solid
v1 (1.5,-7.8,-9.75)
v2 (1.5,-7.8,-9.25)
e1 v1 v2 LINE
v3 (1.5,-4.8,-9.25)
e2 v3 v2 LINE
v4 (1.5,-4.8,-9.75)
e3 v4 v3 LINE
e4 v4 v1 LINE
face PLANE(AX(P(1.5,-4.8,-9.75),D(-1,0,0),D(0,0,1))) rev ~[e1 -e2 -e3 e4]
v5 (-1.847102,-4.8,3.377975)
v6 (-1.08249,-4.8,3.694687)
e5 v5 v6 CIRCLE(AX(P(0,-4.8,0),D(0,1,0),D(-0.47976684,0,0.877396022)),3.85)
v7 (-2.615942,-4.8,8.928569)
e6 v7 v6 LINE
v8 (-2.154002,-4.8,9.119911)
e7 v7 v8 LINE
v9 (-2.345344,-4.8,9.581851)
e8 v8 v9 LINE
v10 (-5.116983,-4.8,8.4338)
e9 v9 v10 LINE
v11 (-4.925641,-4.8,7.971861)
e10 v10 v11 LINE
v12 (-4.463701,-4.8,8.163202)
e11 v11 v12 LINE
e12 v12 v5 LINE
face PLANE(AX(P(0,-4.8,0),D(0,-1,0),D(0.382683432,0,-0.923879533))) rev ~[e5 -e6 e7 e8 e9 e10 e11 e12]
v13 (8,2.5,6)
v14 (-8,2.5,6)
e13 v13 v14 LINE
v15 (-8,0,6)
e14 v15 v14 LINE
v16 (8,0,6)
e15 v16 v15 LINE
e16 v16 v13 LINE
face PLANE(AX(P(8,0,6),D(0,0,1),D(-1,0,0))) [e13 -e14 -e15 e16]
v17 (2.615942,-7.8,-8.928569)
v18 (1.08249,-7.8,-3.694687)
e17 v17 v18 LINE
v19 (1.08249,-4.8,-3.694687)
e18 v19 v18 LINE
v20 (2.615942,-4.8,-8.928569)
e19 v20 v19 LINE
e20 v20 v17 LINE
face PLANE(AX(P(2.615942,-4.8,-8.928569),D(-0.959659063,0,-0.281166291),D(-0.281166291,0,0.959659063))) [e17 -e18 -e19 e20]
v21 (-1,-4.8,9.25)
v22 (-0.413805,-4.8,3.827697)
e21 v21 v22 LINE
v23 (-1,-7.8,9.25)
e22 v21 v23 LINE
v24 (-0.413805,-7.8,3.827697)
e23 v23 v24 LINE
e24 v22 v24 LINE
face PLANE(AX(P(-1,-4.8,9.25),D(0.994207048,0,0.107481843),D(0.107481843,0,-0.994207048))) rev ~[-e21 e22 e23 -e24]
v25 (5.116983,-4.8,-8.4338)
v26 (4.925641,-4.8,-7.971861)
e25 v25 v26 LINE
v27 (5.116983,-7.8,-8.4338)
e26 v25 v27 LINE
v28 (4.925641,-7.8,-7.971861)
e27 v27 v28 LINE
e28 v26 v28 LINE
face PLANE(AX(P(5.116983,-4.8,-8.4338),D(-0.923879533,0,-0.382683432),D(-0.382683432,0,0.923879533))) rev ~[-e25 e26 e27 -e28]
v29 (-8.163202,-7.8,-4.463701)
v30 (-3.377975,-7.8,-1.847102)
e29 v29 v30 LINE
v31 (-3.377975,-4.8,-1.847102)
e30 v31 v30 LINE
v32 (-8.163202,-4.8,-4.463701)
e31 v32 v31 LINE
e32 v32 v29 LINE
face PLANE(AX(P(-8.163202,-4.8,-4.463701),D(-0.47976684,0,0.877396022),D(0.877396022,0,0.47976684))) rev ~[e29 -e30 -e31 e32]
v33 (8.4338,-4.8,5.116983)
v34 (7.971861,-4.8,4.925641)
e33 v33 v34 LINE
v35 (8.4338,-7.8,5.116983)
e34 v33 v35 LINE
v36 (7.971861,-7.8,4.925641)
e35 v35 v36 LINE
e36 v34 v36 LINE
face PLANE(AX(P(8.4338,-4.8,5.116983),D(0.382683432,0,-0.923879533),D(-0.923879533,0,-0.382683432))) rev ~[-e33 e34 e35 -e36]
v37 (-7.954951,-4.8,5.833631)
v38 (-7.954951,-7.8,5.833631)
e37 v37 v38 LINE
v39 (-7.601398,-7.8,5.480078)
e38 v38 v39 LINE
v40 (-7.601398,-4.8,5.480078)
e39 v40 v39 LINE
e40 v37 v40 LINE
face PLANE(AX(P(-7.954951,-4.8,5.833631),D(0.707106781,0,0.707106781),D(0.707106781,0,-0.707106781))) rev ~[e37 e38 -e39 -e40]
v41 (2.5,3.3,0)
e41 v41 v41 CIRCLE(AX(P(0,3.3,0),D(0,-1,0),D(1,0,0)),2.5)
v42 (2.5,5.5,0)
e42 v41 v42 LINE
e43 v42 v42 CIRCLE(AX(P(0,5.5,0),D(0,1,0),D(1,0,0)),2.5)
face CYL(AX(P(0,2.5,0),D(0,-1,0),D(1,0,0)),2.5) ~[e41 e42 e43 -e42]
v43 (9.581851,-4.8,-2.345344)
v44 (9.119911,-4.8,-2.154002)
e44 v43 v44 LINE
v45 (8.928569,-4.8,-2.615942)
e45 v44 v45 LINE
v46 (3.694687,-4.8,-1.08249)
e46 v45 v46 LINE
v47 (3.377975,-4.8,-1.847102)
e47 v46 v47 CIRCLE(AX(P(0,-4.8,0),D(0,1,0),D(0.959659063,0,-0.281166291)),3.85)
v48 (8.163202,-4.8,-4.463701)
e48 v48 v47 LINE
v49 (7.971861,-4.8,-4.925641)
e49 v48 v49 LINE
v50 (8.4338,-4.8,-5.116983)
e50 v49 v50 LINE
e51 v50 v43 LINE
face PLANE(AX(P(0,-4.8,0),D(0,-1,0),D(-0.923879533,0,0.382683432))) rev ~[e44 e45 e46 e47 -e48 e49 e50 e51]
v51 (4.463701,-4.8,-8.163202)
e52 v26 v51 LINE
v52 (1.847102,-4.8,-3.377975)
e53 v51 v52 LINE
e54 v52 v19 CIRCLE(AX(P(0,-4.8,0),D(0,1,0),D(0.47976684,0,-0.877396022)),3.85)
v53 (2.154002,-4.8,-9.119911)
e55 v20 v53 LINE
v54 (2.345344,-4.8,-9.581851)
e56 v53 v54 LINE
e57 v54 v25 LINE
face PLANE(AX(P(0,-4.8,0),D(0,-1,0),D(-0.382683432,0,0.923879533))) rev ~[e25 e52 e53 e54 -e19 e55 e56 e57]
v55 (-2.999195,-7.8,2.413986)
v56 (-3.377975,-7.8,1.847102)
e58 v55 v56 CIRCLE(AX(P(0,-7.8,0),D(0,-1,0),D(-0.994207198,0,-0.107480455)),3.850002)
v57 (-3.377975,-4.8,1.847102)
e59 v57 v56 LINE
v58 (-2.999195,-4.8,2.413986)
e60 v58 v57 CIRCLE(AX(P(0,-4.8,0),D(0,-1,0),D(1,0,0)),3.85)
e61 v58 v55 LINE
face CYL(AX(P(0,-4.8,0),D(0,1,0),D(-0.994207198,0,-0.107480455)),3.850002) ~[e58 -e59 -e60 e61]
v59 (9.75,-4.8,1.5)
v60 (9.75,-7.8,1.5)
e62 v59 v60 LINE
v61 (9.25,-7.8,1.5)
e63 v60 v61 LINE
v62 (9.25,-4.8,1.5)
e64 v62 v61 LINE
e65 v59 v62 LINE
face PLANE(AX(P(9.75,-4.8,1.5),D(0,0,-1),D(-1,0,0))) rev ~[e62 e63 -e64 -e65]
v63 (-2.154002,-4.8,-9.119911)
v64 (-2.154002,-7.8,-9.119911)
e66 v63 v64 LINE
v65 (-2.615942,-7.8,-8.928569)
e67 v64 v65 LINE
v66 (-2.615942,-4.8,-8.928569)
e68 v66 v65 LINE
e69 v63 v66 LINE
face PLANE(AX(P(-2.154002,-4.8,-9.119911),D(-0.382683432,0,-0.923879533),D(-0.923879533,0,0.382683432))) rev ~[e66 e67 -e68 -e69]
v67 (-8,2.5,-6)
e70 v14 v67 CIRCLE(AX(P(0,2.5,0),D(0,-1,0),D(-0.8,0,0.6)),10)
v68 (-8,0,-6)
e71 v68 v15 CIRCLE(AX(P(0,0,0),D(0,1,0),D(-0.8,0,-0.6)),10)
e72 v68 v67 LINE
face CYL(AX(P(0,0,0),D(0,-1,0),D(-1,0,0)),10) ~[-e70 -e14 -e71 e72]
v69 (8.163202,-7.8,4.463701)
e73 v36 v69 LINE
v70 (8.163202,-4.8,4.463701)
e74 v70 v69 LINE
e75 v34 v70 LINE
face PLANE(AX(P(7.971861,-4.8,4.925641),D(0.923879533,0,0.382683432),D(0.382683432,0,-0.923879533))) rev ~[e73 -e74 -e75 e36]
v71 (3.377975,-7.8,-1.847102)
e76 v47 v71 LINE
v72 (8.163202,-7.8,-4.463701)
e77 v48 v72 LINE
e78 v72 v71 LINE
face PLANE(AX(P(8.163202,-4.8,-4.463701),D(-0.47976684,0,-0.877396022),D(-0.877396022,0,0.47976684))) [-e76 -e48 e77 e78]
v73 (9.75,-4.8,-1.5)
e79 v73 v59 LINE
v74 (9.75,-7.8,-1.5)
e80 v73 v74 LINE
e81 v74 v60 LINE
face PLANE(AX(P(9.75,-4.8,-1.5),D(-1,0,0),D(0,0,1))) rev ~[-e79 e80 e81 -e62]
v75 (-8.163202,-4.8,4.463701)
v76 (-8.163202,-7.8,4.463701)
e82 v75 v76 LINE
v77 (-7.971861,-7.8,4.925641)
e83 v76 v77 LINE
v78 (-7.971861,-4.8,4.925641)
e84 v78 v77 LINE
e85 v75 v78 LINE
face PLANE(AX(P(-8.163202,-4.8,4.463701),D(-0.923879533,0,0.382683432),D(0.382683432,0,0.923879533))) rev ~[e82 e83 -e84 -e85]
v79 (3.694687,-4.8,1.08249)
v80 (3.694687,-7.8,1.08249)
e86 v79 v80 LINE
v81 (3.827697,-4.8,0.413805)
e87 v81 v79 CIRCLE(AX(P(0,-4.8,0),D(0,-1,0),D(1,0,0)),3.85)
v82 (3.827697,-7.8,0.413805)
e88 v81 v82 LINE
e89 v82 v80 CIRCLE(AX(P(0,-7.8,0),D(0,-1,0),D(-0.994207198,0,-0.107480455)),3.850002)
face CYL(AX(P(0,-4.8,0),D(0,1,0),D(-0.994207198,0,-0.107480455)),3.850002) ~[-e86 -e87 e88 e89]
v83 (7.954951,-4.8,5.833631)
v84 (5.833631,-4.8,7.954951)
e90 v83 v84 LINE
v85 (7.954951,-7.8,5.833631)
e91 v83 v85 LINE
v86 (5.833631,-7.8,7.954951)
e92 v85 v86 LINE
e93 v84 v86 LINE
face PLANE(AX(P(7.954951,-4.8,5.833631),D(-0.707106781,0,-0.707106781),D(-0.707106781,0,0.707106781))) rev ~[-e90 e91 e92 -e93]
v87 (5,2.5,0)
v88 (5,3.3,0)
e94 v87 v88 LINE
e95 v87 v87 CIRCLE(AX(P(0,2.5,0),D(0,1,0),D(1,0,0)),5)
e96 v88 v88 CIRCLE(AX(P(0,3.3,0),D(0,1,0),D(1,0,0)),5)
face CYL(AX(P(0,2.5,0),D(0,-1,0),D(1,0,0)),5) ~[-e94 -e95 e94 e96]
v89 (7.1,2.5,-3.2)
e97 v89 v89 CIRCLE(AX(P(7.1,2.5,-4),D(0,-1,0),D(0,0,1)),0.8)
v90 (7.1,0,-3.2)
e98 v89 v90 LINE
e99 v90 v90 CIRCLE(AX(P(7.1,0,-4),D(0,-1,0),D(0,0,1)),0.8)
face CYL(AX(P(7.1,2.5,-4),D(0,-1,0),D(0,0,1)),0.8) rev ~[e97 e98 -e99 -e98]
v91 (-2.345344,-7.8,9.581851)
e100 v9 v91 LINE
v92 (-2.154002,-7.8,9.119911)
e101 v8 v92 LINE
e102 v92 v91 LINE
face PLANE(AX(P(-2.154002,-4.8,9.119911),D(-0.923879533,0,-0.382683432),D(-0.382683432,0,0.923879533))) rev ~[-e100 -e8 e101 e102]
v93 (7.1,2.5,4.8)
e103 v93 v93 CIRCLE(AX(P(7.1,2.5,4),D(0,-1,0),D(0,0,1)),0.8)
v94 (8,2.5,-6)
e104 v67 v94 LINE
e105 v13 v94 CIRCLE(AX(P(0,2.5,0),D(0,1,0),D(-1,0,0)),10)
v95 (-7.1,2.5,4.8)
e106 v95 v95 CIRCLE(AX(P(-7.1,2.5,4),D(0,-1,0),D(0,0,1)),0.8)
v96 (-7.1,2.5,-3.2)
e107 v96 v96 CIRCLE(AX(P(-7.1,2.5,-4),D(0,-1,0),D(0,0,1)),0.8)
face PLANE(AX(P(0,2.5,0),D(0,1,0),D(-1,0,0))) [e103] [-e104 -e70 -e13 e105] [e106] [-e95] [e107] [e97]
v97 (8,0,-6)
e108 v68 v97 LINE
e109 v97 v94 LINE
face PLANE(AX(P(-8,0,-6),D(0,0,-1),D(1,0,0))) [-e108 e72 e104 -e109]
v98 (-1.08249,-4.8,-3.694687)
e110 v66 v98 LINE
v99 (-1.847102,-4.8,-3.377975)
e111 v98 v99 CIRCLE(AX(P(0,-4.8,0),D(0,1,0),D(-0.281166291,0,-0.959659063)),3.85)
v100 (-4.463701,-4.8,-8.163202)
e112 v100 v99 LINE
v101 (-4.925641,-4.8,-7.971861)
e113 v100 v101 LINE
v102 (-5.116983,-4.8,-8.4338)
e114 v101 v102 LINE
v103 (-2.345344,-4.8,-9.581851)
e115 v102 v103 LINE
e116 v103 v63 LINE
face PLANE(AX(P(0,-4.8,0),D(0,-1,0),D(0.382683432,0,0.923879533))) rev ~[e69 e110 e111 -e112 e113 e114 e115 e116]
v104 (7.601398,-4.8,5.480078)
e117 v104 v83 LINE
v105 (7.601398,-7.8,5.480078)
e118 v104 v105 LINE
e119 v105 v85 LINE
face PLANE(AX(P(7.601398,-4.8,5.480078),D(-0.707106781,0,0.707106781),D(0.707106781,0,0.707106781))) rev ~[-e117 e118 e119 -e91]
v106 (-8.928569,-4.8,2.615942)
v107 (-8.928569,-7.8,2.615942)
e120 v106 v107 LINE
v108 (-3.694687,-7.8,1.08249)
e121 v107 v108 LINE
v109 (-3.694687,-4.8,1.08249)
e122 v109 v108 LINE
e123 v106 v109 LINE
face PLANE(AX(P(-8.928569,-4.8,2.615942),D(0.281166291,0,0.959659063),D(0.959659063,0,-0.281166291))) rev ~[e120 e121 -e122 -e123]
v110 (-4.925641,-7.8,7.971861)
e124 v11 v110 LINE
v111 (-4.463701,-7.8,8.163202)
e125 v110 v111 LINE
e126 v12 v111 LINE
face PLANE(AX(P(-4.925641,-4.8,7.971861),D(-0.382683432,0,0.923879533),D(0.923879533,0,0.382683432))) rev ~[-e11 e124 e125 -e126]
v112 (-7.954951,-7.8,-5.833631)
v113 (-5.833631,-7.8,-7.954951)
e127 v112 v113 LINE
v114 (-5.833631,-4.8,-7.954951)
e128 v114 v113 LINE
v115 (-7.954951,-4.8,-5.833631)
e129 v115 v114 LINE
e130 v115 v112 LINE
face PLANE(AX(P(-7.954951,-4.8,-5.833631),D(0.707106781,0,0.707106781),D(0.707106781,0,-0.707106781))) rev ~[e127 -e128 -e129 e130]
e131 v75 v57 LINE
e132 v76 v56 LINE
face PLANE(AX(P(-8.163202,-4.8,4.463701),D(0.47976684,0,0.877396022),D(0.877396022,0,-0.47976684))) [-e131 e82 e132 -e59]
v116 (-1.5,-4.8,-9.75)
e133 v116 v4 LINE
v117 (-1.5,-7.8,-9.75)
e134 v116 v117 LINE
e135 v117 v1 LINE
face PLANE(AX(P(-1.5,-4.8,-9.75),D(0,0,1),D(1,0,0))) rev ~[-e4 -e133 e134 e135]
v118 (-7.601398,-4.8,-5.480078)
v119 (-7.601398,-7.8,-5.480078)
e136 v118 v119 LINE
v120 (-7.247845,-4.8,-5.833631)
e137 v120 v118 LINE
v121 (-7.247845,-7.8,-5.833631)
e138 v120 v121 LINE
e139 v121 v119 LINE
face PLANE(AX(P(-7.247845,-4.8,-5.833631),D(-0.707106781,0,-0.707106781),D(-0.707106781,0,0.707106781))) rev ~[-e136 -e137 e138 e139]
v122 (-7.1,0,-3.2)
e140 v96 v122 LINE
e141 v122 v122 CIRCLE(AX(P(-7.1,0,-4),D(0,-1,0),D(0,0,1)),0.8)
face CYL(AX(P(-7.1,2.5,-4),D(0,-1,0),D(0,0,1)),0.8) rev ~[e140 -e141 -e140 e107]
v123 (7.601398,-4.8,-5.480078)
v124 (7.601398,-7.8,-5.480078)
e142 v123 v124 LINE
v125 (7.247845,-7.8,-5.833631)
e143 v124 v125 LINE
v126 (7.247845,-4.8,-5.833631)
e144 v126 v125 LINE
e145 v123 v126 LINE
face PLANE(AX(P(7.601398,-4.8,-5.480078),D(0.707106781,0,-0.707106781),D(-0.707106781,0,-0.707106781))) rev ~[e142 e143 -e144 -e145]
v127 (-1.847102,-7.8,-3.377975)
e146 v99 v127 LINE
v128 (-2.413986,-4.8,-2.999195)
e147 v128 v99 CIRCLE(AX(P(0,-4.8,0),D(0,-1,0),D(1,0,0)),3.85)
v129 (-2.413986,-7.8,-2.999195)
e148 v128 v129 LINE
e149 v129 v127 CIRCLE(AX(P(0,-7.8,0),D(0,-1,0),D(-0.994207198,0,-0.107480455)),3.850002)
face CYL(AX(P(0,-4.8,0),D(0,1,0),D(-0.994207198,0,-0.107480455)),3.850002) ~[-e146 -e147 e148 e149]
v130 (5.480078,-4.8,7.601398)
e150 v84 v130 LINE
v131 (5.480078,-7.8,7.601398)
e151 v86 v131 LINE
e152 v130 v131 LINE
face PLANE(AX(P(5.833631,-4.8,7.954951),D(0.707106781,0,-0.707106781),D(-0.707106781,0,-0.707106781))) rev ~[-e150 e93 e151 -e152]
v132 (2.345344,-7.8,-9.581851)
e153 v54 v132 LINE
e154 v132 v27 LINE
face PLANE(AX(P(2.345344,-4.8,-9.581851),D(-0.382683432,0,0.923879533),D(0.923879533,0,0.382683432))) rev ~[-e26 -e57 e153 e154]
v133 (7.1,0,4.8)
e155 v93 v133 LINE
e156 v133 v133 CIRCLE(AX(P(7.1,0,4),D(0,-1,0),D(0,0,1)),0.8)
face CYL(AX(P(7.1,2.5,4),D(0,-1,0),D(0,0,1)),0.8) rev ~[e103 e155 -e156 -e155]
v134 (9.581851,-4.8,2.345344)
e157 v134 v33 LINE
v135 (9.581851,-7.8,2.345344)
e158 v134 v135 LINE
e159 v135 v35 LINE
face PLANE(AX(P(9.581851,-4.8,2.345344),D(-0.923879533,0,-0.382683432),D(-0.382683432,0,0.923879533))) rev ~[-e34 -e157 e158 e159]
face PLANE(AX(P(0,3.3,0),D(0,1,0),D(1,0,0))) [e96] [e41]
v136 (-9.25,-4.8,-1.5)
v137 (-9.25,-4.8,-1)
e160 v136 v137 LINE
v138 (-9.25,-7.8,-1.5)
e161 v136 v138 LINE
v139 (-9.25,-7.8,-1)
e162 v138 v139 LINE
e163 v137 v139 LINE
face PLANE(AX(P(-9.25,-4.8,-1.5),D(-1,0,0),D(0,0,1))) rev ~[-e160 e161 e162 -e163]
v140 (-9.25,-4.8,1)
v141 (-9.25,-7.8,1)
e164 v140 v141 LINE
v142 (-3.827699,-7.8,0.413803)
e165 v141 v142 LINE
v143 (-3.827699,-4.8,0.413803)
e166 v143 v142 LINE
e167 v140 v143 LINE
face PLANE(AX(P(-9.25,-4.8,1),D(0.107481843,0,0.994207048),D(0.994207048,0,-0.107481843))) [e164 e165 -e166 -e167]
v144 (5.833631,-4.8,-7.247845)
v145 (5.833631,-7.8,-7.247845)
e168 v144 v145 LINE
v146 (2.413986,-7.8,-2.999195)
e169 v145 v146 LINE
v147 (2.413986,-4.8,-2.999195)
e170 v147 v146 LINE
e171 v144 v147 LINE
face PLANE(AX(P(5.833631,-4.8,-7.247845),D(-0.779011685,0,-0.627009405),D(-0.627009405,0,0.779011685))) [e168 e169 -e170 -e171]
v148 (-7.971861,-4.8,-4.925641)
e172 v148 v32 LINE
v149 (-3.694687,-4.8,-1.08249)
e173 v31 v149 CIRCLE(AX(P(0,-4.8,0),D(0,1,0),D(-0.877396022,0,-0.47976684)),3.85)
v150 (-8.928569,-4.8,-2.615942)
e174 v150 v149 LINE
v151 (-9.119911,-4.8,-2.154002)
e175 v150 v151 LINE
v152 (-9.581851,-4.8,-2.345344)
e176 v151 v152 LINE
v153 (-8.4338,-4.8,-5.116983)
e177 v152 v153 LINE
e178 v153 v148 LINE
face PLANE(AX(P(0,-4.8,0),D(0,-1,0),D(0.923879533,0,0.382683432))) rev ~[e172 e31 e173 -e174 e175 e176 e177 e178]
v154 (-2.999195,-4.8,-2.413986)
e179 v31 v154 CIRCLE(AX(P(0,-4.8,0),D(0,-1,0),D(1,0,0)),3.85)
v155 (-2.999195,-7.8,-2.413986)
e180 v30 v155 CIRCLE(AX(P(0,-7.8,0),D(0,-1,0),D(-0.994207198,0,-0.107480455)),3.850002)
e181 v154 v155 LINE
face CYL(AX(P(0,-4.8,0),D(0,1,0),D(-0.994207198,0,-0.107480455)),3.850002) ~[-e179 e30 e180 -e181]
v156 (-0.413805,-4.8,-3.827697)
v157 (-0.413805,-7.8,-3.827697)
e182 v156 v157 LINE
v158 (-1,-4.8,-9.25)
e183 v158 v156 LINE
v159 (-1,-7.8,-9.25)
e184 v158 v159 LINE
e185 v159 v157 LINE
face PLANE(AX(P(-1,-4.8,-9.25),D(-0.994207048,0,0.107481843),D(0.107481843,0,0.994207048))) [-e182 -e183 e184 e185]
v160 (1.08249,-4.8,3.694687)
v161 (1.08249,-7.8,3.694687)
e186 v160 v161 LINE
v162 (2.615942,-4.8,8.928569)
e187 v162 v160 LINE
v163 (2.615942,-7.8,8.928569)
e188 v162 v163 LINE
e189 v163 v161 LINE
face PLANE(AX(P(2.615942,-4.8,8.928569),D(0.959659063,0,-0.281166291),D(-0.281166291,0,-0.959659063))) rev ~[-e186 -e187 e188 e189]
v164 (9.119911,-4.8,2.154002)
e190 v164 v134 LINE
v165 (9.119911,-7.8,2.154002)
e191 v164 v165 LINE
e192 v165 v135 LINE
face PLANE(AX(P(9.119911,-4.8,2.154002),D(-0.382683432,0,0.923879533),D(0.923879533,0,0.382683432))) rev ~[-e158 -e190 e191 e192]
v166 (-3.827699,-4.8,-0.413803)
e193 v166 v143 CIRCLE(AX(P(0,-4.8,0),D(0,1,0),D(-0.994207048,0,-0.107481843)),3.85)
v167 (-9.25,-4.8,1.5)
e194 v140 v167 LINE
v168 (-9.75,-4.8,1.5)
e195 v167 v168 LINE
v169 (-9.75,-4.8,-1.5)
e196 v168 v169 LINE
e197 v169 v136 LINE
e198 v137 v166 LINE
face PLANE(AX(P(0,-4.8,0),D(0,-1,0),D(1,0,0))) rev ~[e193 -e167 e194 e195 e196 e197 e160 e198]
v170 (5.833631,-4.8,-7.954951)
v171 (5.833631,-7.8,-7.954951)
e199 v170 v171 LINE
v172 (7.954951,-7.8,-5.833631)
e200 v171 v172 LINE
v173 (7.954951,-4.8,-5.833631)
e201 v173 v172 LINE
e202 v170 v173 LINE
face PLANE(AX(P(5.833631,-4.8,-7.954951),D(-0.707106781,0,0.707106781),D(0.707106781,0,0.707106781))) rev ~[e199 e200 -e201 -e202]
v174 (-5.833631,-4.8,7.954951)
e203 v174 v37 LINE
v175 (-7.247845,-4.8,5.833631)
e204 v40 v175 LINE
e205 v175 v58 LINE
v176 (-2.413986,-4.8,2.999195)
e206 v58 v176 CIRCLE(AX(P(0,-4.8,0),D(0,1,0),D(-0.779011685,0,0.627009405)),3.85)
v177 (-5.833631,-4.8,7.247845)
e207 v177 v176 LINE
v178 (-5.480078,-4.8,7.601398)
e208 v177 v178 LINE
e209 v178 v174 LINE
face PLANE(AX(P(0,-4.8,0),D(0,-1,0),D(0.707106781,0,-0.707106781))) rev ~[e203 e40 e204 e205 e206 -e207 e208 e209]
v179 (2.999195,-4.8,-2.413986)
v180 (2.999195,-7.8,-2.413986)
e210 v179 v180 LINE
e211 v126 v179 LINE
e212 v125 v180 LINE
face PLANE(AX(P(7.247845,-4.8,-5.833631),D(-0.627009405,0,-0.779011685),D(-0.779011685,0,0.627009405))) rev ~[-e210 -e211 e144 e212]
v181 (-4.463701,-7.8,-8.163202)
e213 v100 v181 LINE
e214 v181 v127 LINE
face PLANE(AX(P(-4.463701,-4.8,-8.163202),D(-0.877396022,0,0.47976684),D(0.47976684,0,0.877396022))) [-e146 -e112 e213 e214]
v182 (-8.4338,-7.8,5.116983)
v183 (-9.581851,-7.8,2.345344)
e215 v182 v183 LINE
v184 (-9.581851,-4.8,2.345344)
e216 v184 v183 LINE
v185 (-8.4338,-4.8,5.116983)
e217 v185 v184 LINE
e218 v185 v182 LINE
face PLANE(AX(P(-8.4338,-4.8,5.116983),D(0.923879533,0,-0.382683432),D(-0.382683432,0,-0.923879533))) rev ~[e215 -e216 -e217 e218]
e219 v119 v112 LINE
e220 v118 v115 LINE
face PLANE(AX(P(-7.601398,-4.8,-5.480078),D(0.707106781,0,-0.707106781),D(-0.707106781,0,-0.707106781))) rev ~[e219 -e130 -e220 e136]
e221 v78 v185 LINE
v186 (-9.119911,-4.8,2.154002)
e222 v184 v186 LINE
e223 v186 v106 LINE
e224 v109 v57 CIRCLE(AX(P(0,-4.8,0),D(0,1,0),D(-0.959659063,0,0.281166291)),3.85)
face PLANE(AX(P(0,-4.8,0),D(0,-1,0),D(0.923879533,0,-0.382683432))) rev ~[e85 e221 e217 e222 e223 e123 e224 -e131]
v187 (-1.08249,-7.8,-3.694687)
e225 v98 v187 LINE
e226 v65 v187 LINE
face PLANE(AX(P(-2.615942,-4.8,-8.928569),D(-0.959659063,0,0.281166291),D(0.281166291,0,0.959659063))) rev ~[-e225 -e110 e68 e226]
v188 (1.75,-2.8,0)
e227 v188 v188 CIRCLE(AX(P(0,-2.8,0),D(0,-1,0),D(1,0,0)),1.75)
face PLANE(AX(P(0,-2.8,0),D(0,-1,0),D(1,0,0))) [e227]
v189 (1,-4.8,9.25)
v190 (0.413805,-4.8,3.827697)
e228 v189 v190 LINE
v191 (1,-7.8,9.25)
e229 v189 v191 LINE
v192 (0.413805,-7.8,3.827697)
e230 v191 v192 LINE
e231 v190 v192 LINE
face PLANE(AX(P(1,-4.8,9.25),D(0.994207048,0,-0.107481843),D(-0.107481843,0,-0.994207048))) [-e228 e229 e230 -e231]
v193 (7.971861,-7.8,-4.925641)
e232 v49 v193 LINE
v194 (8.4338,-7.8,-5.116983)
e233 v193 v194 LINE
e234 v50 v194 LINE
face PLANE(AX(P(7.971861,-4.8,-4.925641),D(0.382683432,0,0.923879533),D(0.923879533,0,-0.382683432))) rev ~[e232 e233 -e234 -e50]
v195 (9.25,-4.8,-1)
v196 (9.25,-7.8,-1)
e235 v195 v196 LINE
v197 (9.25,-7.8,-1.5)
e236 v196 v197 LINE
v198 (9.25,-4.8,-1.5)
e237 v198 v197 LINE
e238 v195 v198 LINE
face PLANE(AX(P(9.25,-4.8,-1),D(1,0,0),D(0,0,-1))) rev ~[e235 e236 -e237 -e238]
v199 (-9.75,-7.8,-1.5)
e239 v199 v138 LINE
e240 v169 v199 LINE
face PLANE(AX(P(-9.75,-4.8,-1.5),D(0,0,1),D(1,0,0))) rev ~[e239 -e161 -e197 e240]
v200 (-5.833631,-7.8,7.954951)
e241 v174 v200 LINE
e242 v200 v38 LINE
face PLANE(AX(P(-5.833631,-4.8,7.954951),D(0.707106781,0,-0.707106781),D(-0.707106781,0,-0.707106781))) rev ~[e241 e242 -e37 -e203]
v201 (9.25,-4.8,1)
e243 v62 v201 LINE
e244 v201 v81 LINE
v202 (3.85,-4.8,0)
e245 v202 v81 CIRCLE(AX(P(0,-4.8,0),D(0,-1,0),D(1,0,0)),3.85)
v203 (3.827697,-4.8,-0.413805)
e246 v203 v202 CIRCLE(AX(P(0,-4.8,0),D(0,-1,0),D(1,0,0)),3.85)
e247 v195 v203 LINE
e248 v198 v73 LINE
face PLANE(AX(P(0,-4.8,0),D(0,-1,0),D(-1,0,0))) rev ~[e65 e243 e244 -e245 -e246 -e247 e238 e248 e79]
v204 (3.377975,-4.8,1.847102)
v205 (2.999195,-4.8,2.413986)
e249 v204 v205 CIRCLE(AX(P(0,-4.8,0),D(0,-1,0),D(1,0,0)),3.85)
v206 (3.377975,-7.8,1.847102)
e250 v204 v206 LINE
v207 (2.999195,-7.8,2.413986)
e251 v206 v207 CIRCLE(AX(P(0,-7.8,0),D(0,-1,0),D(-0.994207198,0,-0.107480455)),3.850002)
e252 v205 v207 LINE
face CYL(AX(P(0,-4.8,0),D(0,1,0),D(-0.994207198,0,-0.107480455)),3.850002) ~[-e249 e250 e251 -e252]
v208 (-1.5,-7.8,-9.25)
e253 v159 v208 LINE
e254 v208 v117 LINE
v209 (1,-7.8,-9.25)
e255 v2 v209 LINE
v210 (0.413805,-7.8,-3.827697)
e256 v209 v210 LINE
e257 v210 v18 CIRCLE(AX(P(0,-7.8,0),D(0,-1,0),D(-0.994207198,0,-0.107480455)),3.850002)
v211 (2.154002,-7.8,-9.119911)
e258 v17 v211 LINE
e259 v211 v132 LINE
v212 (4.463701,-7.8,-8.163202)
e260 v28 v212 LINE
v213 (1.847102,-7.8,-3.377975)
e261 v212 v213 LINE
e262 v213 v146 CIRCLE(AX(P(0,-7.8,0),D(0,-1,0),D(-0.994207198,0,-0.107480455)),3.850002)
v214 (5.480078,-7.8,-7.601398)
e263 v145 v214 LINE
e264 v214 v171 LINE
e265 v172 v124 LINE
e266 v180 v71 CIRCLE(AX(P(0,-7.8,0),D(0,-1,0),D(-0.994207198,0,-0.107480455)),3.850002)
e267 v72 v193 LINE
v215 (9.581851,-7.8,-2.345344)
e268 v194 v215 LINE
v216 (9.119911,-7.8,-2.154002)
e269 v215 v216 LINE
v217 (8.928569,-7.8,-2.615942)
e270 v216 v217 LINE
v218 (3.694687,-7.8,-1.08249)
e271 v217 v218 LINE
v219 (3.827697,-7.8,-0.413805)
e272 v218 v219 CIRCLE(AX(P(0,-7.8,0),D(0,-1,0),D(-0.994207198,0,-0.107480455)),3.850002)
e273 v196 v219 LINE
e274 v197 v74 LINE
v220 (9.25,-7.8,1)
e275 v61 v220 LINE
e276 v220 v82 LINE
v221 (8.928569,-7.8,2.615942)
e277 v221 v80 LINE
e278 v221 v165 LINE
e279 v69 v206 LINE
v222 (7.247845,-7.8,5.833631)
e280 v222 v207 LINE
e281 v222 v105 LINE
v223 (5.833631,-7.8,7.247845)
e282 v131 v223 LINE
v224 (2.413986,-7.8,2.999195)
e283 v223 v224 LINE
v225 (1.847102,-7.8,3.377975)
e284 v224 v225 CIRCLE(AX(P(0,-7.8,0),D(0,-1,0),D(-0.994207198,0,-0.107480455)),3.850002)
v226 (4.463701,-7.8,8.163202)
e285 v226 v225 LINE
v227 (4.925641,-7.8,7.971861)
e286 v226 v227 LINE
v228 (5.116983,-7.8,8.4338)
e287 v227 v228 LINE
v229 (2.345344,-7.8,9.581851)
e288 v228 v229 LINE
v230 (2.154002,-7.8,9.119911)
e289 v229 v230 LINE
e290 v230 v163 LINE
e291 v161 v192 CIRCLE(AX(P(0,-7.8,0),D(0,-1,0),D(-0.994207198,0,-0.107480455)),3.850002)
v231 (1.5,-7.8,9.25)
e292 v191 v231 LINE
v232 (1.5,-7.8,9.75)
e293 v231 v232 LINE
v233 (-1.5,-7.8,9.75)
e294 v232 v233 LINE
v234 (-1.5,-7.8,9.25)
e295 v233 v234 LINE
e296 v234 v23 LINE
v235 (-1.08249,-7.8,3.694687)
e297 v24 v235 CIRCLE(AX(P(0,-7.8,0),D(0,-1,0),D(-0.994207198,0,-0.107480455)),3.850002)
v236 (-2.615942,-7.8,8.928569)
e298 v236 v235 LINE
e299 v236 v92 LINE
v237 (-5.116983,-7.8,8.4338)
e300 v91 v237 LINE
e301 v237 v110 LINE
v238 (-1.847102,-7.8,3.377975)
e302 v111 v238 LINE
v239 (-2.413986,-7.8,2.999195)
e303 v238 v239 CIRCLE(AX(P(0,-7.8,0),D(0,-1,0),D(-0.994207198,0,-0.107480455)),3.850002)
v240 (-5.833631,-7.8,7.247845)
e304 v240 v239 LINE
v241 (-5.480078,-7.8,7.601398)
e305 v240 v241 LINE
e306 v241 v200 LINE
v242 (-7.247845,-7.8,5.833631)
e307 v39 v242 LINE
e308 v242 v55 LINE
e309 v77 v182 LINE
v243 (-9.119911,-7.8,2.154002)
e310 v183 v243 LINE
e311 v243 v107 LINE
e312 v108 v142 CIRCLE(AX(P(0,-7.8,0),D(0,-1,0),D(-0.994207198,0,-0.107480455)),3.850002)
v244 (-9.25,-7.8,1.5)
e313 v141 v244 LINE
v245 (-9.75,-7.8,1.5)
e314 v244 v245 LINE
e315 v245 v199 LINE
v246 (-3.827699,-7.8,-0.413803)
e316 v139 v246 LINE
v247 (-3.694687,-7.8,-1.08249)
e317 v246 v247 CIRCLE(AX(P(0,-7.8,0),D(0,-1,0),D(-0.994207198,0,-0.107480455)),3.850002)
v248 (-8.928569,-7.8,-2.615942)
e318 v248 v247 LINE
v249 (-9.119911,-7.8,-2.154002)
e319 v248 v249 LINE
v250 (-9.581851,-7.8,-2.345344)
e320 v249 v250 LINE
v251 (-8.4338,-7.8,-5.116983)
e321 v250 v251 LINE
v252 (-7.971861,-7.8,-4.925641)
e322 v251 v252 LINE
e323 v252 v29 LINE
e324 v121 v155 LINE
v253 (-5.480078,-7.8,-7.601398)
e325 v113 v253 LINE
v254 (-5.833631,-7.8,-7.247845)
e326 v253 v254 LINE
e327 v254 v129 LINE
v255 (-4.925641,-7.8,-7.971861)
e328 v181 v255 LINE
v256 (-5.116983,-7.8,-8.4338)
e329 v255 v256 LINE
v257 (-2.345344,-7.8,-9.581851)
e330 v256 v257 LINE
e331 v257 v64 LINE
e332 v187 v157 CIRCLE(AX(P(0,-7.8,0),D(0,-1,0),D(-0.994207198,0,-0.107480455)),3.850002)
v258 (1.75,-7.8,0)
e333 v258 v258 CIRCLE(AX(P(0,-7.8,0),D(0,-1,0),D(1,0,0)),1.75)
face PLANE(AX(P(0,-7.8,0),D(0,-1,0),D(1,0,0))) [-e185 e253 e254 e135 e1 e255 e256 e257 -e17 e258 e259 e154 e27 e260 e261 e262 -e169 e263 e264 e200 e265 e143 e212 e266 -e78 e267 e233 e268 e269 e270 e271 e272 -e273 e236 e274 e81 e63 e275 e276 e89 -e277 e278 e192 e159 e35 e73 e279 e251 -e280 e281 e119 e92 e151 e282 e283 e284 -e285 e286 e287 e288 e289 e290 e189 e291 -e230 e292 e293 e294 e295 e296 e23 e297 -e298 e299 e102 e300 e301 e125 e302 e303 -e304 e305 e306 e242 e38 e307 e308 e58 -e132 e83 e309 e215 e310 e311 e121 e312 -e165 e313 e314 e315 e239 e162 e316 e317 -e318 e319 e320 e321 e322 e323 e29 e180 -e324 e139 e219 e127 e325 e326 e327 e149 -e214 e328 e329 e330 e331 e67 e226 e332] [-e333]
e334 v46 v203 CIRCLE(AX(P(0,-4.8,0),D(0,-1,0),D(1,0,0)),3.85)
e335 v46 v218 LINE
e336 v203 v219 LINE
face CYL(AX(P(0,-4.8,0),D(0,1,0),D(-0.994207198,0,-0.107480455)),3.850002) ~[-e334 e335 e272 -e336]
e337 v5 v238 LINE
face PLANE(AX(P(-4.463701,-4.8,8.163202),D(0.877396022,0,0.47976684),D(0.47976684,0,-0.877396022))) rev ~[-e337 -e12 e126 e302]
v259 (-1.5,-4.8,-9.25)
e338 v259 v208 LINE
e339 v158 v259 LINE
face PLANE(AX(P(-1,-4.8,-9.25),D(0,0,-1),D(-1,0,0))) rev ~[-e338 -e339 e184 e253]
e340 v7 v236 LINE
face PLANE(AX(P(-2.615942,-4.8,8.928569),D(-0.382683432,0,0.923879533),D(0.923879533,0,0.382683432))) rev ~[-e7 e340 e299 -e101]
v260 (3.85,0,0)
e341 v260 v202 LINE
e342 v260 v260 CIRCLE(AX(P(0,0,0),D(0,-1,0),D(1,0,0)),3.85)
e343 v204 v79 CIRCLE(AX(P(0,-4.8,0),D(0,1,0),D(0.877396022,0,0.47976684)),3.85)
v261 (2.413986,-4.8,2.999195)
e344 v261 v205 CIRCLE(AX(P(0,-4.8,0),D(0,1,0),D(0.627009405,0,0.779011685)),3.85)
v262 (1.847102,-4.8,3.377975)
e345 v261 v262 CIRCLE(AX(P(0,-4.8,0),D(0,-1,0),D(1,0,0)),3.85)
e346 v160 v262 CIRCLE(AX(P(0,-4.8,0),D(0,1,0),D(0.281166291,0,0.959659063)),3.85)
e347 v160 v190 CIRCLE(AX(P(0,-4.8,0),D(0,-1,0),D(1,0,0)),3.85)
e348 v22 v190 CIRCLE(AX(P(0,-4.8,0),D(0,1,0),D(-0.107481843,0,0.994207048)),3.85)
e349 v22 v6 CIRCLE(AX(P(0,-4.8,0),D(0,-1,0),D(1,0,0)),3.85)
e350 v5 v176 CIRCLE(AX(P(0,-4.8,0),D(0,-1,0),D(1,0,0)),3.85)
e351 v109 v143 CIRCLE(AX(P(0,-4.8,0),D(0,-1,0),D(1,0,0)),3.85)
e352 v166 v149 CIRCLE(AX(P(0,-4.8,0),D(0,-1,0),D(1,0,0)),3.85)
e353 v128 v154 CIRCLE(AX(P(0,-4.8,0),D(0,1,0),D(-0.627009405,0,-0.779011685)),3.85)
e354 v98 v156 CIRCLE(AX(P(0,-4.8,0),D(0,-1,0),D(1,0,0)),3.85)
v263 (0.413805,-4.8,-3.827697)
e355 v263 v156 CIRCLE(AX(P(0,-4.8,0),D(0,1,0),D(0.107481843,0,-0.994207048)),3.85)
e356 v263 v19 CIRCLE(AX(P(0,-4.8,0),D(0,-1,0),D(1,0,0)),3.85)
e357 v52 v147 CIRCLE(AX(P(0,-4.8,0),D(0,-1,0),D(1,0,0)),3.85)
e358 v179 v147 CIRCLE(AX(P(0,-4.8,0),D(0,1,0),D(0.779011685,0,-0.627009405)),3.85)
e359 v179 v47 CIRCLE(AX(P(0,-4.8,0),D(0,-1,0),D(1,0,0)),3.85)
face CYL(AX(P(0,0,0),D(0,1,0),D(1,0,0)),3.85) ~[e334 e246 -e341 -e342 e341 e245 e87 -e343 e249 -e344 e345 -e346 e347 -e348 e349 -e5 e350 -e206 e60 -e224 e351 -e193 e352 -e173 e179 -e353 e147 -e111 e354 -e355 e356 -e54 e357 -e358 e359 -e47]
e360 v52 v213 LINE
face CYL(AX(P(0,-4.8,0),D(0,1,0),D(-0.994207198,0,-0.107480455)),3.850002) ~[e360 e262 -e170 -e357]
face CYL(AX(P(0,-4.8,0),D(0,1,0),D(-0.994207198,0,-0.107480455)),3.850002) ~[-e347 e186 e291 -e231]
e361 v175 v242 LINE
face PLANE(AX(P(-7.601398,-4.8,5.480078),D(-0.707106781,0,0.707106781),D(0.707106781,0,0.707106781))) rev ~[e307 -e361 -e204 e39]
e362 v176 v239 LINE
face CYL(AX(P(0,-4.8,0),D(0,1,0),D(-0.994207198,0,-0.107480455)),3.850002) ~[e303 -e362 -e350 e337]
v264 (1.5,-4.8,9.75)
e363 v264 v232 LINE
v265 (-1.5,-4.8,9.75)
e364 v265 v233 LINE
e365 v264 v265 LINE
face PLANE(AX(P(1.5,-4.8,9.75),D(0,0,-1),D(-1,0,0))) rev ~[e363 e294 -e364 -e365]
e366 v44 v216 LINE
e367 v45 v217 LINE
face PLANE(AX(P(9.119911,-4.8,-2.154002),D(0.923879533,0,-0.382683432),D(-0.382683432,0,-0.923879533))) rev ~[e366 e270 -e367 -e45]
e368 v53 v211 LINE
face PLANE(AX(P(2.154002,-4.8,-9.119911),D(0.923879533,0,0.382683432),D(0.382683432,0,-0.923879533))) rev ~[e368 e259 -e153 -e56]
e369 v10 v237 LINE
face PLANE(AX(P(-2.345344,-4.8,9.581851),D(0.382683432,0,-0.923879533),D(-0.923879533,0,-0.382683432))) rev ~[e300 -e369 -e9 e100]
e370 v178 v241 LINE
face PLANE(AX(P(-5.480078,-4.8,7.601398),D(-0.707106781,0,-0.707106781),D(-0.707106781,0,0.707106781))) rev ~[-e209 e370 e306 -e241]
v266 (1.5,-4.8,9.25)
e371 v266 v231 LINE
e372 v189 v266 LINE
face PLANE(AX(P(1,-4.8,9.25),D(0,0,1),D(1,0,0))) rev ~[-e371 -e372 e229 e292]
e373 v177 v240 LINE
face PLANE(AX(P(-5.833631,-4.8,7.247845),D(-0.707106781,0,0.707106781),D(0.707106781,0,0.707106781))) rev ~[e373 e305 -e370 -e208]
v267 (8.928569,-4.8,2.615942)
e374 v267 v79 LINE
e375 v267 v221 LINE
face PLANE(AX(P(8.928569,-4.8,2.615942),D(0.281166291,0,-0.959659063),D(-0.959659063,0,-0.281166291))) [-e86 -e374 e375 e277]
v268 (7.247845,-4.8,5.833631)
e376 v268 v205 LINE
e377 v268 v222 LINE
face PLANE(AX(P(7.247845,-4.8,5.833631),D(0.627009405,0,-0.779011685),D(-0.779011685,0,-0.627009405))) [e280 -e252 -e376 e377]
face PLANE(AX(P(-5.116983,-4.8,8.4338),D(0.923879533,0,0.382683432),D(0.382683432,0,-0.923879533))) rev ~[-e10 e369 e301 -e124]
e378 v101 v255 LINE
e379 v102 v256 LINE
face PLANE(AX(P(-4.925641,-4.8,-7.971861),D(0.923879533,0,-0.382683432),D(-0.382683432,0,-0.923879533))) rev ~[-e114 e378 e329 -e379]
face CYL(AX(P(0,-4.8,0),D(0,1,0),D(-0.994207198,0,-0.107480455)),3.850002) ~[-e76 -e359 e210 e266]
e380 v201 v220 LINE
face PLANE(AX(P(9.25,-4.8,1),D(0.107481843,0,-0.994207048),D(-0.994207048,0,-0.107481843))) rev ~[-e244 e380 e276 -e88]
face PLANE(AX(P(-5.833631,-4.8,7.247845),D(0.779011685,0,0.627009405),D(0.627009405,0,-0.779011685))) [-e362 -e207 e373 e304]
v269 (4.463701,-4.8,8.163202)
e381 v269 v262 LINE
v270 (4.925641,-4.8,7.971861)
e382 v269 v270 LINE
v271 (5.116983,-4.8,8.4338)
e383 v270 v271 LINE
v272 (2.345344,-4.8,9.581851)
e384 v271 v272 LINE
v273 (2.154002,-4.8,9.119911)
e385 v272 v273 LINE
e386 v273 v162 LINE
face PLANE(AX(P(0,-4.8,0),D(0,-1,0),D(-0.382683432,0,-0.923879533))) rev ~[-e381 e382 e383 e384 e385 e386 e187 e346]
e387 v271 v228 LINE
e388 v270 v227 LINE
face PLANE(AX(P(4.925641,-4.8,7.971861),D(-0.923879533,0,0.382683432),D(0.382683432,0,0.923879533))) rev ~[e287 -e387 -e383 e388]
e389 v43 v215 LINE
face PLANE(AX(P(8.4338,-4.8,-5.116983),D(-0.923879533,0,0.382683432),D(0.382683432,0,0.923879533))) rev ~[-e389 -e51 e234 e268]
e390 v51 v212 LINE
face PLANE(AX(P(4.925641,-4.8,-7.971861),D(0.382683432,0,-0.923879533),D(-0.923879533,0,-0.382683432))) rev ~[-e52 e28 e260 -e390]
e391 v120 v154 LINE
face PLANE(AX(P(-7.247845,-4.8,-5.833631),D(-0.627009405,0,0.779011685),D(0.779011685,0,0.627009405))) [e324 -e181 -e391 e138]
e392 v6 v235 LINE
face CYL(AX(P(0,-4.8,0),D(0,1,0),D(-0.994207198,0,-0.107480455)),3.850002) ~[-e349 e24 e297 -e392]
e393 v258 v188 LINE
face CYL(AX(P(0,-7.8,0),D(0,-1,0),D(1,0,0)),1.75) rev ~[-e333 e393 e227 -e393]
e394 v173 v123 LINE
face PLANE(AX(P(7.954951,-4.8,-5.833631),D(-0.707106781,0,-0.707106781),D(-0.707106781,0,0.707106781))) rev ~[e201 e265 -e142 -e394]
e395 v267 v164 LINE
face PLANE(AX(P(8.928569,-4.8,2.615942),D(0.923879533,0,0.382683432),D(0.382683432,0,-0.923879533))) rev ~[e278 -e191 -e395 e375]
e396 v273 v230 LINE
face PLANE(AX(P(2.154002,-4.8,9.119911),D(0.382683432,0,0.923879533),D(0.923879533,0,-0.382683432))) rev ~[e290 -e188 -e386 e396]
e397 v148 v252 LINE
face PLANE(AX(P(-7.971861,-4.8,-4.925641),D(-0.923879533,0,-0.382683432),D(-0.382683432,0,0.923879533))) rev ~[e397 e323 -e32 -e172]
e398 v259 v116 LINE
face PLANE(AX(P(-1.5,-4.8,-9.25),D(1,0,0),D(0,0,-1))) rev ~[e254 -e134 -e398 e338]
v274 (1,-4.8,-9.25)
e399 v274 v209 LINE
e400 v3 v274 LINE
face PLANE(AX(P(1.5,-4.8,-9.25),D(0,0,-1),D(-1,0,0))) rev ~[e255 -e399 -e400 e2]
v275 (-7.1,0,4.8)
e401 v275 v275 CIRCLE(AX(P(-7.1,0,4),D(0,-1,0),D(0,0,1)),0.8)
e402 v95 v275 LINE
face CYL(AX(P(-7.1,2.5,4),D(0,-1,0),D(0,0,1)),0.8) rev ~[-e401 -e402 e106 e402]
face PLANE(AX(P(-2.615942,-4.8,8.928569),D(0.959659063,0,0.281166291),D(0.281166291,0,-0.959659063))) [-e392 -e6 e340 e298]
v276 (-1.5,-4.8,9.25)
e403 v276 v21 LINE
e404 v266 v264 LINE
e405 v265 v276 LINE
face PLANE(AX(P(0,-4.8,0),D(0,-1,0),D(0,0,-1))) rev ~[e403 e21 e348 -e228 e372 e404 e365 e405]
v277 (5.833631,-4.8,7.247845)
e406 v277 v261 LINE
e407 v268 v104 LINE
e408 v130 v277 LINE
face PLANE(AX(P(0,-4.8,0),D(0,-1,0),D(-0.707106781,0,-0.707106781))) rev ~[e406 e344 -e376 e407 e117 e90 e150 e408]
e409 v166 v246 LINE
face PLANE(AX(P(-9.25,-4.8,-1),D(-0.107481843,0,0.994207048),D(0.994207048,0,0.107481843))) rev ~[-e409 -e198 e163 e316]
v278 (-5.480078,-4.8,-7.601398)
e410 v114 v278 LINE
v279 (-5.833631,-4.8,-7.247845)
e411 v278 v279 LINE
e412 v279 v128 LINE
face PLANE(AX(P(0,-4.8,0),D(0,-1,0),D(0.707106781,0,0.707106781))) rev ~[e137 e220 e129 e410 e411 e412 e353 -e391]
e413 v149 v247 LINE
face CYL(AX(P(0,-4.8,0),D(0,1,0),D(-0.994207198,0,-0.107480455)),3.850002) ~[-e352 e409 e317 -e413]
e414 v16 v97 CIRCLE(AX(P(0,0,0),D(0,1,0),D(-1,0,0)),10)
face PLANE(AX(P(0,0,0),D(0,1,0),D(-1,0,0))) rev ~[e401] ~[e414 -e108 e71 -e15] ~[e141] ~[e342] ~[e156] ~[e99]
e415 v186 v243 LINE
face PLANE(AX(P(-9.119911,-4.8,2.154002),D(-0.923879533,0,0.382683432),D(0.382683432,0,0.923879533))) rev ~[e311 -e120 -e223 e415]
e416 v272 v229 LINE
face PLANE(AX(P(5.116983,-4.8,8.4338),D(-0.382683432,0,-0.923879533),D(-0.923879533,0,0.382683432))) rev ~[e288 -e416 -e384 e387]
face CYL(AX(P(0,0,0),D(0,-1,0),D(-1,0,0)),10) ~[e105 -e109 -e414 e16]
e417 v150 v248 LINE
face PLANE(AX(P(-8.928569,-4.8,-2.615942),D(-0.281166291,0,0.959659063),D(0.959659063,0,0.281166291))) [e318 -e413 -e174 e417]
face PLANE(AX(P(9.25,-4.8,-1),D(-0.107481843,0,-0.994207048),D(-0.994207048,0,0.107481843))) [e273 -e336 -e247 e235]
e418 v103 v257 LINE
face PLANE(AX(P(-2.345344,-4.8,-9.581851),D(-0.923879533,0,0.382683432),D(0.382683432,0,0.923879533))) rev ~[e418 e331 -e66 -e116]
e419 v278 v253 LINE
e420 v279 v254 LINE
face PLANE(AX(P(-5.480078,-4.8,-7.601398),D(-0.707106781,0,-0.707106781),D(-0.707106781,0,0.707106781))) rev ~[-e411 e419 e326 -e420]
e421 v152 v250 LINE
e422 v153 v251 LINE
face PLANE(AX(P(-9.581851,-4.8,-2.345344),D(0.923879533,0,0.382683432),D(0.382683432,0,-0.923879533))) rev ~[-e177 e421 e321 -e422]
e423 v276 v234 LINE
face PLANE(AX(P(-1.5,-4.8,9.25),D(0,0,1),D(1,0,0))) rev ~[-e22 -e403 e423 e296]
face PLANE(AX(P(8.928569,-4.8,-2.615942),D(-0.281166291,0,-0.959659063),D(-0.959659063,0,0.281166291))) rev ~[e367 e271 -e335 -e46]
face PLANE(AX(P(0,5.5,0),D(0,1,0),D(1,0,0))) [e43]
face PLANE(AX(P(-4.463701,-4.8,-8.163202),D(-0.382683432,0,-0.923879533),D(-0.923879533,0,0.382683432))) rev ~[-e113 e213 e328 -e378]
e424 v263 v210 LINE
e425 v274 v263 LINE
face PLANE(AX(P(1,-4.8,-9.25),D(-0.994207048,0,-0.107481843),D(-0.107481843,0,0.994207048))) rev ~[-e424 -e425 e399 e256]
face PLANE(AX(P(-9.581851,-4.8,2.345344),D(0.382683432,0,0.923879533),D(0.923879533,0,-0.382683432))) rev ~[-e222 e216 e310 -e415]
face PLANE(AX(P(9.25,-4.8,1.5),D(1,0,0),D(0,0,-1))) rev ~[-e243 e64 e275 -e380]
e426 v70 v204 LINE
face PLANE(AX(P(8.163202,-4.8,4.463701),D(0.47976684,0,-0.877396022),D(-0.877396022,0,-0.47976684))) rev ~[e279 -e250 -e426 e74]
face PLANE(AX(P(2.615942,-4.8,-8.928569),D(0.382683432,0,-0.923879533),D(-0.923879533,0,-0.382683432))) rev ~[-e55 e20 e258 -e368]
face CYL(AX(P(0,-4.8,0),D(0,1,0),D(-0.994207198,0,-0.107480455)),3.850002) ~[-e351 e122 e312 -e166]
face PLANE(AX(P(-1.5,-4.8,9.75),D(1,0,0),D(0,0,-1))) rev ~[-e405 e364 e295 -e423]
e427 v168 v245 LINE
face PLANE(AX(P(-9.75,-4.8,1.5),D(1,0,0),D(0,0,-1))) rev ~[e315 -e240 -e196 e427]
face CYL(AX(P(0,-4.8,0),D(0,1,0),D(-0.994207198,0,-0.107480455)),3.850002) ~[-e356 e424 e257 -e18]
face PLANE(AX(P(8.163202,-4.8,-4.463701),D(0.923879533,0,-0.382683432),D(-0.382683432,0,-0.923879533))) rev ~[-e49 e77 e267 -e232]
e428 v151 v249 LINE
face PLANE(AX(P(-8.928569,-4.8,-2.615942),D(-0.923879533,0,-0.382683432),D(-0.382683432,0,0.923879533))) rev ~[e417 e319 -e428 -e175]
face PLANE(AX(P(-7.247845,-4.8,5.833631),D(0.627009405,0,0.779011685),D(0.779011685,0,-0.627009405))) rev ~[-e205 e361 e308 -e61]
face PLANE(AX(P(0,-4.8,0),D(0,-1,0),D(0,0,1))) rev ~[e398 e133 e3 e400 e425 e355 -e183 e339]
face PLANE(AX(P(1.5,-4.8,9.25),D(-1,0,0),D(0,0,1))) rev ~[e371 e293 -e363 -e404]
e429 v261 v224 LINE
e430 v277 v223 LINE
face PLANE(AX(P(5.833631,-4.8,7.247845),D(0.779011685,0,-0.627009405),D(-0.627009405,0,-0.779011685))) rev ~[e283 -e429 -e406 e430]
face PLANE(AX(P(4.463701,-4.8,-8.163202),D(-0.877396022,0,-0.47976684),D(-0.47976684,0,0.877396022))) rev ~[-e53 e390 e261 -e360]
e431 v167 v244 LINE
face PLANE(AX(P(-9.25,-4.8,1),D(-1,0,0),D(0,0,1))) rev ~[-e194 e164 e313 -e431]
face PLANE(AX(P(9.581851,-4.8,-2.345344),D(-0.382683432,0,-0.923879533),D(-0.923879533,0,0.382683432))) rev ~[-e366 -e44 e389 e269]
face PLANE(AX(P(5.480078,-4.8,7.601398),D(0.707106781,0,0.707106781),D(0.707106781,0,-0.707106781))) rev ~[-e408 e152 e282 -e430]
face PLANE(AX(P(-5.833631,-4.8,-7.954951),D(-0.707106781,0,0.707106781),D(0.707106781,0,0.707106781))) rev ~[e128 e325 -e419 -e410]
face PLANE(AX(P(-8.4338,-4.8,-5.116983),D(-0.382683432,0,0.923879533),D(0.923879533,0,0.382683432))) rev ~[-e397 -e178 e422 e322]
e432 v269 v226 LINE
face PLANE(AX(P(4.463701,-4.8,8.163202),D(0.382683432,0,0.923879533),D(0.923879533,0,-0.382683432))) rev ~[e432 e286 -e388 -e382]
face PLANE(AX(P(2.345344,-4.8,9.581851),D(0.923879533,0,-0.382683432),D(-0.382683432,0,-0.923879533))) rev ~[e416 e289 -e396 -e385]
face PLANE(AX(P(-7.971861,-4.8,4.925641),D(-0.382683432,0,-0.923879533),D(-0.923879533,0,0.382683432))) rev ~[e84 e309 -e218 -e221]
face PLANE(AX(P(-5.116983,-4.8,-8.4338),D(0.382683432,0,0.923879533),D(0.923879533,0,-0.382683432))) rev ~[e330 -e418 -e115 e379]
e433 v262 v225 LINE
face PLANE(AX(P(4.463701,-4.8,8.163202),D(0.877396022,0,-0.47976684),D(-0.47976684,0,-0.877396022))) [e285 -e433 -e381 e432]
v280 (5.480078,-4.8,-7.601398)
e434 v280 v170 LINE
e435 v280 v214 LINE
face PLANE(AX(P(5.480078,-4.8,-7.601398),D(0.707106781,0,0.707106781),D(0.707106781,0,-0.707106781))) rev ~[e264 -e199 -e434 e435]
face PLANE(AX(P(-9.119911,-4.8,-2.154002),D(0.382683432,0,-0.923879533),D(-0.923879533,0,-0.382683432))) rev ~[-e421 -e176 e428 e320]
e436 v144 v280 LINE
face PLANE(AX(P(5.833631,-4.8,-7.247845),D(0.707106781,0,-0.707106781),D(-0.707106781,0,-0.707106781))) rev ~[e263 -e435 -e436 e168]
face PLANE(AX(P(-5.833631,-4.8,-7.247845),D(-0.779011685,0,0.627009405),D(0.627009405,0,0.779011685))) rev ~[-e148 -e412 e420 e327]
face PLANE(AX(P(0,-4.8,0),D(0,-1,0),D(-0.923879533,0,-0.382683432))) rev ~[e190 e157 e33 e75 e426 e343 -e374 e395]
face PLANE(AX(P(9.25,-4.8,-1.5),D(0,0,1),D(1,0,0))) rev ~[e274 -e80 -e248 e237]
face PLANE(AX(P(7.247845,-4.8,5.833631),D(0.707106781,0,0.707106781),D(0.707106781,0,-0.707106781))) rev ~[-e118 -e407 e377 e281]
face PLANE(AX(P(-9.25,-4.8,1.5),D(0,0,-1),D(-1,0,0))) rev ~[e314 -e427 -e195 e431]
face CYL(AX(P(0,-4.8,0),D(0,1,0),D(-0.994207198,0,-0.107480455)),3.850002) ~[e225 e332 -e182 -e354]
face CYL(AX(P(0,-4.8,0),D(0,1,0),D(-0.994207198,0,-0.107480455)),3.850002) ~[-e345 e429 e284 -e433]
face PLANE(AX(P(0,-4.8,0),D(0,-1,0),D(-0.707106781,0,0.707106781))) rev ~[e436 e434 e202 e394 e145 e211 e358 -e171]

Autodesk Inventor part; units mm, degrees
ref_plane "YZ Plane" through (0, 0, 0) normal (1, 0, 0) x (0, 1, 0)
ref_plane "XZ Plane" through (0, 0, 0) normal (0, 1, 0) x (-1, 0, 0)
ref_plane "XY Plane" through (0, 0, 0) normal (0, 0, 1) x (1, 0, 0)
sketch "Sketch1" plane through (0, 0, 0) normal (0, 1, 0) x (-1, 0, 0)
  circle A0 centre (0, 0) radius 10
  line L0 (11, 6) -> (11, -6)
  line L1 (11, -6) -> (-11, -6)
  line L2 (-11, -6) -> (-11, 6)
  line L3 (-11, 6) -> (11, 6)
  line L4 (11, 6) -> (-11, -6) construction
  line L5 (11, -6) -> (-11, 6) construction
  point P0 (8, 6)
  point P1 (-8, 6)
  point P2 (-8, -6)
  point P3 (8, -6)
  dimension "d0" = 20
  dimension "d1" = 12
  dimension "d2" = 22
extrude "Extrusion1" add sketch "Sketch1" along normal blind 2.5 contours A0 L1 L3
sketch "Sketch2" plane through (0, 2.5, 0) normal (0, 1, 0) x (1, 0, 0)
  circle A0 centre (0, 0) radius 5
  dimension "d5" = 10
extrude "Extrusion2" add sketch "Sketch2" along normal blind 0.8
sketch "Sketch3" plane through (0, 2.5, 0) normal (0, 1, 0) x (1, 0, 0)
  circle A0 centre (0, 0) radius 2.5
  dimension "d8" = 5
extrude "Extrusion3" add sketch "Sketch3" along normal blind 3
sketch "Sketch4" plane through (0, 0, 0) normal (0, -1, 0) x (1, 0, 0)
  circle A0 centre (0, 0) radius 3.85
  dimension "d11" = 7.7
extrude "Extrusion4" add sketch "Sketch4" along normal blind 4.8
sketch "Sketch5" plane through (0, 2.5, 0) normal (0, 1, 0) x (1, 0, 0)
  line L0 (-7.1, -4) -> (-7.1, 4)
  line L1 (-7.1, 4) -> (7.1, 4)
  line L2 (7.1, 4) -> (7.1, -4)
  line L3 (7.1, -4) -> (-7.1, -4)
  line L4 (-7.1, -4) -> (7.1, 4) construction
  line L5 (-7.1, 4) -> (7.1, -4) construction
  point P0 (0, 0)
  dimension "d14" = 8
  dimension "d15" = 14.2
hole "Hole1" at (-7.1, 2.5, 4) at (-7.1, 2.5, -4) at (7.1, 2.5, 4) at (7.1, 2.5, -4) direction (0, -1, 0) diameter 1.6 depth 17
sketch "Sketch6" plane through (0, -4.8, 0) normal (0, -1, 0) x (1, 0, 0)
  circle A0 centre (0, 0) radius 2.5 projected
  line L0 (0, 0) -> (-9.5, 0)
  line L1 (-9.75, -1.5) -> (-9.25, -1.5)
  line L2 (-9.25, -1.5) -> (-9.25, 1.5)
  line L3 (-9.25, 1.5) -> (-9.75, 1.5)
  line L4 (-9.75, 1.5) -> (-9.75, -1.5)
  line L5 (-9.75, -1.5) -> (-9.25, 1.5) construction
  line L6 (-9.25, -1.5) -> (-9.75, 1.5) construction
  circle A1 centre (0, 0) radius 3.85 projected
  line L7 (-9.25, 1.5) -> (-9.25, 1)
  line L8 (-9.25, 1) -> (0, 0)
  line L9 (-9.25, -1.5) -> (-9.25, -1)
  line L10 (-9.25, -1) -> (0, 0)
  point P0 (-3.8277, 0.4138)
  point P1 (-3.8277, -0.4138)
  dimension "d23" = 9.5
  dimension "d24" = 0.5
  dimension "d25" = 3
  dimension "d26" = 0.5
  dimension "d27" = 0.5
extrude "Extrusion5" add sketch "Sketch6" along normal blind 3 contours A1 L0 L2 L8 | L10 L2 L0 A1 | L2 L1 L4 L3
sketch "Sketch7" plane through (0, -4.8, 0) normal (0, -1, 0) x (1, 0, 0)
  arc A0 (-3.8277, -0.4138) -> (-3.8277, 0.4138) centre (0, 0) ccw projected
  arc A1 (-3.8277, 0.4138) -> (-3.8277, -0.4138) centre (0, 0) ccw projected
extrude "Extrusion6" add sketch "Sketch7" along normal blind 3
pattern_circular "Circular Pattern1" count 16 over 360 about axis through (0, 0, 0) along (0, -1, 0) of "Extrusion5"
sketch "Sketch8" plane through (0, -7.8, 0) normal (0, -1, 0) x (1, 0, 0)
  circle A0 centre (0, 0) radius 1.75
  dimension "d35" = 3.5
extrude "Extrusion7" cut sketch "Sketch8" against normal blind 5
properties part number "burshless_20_base"
